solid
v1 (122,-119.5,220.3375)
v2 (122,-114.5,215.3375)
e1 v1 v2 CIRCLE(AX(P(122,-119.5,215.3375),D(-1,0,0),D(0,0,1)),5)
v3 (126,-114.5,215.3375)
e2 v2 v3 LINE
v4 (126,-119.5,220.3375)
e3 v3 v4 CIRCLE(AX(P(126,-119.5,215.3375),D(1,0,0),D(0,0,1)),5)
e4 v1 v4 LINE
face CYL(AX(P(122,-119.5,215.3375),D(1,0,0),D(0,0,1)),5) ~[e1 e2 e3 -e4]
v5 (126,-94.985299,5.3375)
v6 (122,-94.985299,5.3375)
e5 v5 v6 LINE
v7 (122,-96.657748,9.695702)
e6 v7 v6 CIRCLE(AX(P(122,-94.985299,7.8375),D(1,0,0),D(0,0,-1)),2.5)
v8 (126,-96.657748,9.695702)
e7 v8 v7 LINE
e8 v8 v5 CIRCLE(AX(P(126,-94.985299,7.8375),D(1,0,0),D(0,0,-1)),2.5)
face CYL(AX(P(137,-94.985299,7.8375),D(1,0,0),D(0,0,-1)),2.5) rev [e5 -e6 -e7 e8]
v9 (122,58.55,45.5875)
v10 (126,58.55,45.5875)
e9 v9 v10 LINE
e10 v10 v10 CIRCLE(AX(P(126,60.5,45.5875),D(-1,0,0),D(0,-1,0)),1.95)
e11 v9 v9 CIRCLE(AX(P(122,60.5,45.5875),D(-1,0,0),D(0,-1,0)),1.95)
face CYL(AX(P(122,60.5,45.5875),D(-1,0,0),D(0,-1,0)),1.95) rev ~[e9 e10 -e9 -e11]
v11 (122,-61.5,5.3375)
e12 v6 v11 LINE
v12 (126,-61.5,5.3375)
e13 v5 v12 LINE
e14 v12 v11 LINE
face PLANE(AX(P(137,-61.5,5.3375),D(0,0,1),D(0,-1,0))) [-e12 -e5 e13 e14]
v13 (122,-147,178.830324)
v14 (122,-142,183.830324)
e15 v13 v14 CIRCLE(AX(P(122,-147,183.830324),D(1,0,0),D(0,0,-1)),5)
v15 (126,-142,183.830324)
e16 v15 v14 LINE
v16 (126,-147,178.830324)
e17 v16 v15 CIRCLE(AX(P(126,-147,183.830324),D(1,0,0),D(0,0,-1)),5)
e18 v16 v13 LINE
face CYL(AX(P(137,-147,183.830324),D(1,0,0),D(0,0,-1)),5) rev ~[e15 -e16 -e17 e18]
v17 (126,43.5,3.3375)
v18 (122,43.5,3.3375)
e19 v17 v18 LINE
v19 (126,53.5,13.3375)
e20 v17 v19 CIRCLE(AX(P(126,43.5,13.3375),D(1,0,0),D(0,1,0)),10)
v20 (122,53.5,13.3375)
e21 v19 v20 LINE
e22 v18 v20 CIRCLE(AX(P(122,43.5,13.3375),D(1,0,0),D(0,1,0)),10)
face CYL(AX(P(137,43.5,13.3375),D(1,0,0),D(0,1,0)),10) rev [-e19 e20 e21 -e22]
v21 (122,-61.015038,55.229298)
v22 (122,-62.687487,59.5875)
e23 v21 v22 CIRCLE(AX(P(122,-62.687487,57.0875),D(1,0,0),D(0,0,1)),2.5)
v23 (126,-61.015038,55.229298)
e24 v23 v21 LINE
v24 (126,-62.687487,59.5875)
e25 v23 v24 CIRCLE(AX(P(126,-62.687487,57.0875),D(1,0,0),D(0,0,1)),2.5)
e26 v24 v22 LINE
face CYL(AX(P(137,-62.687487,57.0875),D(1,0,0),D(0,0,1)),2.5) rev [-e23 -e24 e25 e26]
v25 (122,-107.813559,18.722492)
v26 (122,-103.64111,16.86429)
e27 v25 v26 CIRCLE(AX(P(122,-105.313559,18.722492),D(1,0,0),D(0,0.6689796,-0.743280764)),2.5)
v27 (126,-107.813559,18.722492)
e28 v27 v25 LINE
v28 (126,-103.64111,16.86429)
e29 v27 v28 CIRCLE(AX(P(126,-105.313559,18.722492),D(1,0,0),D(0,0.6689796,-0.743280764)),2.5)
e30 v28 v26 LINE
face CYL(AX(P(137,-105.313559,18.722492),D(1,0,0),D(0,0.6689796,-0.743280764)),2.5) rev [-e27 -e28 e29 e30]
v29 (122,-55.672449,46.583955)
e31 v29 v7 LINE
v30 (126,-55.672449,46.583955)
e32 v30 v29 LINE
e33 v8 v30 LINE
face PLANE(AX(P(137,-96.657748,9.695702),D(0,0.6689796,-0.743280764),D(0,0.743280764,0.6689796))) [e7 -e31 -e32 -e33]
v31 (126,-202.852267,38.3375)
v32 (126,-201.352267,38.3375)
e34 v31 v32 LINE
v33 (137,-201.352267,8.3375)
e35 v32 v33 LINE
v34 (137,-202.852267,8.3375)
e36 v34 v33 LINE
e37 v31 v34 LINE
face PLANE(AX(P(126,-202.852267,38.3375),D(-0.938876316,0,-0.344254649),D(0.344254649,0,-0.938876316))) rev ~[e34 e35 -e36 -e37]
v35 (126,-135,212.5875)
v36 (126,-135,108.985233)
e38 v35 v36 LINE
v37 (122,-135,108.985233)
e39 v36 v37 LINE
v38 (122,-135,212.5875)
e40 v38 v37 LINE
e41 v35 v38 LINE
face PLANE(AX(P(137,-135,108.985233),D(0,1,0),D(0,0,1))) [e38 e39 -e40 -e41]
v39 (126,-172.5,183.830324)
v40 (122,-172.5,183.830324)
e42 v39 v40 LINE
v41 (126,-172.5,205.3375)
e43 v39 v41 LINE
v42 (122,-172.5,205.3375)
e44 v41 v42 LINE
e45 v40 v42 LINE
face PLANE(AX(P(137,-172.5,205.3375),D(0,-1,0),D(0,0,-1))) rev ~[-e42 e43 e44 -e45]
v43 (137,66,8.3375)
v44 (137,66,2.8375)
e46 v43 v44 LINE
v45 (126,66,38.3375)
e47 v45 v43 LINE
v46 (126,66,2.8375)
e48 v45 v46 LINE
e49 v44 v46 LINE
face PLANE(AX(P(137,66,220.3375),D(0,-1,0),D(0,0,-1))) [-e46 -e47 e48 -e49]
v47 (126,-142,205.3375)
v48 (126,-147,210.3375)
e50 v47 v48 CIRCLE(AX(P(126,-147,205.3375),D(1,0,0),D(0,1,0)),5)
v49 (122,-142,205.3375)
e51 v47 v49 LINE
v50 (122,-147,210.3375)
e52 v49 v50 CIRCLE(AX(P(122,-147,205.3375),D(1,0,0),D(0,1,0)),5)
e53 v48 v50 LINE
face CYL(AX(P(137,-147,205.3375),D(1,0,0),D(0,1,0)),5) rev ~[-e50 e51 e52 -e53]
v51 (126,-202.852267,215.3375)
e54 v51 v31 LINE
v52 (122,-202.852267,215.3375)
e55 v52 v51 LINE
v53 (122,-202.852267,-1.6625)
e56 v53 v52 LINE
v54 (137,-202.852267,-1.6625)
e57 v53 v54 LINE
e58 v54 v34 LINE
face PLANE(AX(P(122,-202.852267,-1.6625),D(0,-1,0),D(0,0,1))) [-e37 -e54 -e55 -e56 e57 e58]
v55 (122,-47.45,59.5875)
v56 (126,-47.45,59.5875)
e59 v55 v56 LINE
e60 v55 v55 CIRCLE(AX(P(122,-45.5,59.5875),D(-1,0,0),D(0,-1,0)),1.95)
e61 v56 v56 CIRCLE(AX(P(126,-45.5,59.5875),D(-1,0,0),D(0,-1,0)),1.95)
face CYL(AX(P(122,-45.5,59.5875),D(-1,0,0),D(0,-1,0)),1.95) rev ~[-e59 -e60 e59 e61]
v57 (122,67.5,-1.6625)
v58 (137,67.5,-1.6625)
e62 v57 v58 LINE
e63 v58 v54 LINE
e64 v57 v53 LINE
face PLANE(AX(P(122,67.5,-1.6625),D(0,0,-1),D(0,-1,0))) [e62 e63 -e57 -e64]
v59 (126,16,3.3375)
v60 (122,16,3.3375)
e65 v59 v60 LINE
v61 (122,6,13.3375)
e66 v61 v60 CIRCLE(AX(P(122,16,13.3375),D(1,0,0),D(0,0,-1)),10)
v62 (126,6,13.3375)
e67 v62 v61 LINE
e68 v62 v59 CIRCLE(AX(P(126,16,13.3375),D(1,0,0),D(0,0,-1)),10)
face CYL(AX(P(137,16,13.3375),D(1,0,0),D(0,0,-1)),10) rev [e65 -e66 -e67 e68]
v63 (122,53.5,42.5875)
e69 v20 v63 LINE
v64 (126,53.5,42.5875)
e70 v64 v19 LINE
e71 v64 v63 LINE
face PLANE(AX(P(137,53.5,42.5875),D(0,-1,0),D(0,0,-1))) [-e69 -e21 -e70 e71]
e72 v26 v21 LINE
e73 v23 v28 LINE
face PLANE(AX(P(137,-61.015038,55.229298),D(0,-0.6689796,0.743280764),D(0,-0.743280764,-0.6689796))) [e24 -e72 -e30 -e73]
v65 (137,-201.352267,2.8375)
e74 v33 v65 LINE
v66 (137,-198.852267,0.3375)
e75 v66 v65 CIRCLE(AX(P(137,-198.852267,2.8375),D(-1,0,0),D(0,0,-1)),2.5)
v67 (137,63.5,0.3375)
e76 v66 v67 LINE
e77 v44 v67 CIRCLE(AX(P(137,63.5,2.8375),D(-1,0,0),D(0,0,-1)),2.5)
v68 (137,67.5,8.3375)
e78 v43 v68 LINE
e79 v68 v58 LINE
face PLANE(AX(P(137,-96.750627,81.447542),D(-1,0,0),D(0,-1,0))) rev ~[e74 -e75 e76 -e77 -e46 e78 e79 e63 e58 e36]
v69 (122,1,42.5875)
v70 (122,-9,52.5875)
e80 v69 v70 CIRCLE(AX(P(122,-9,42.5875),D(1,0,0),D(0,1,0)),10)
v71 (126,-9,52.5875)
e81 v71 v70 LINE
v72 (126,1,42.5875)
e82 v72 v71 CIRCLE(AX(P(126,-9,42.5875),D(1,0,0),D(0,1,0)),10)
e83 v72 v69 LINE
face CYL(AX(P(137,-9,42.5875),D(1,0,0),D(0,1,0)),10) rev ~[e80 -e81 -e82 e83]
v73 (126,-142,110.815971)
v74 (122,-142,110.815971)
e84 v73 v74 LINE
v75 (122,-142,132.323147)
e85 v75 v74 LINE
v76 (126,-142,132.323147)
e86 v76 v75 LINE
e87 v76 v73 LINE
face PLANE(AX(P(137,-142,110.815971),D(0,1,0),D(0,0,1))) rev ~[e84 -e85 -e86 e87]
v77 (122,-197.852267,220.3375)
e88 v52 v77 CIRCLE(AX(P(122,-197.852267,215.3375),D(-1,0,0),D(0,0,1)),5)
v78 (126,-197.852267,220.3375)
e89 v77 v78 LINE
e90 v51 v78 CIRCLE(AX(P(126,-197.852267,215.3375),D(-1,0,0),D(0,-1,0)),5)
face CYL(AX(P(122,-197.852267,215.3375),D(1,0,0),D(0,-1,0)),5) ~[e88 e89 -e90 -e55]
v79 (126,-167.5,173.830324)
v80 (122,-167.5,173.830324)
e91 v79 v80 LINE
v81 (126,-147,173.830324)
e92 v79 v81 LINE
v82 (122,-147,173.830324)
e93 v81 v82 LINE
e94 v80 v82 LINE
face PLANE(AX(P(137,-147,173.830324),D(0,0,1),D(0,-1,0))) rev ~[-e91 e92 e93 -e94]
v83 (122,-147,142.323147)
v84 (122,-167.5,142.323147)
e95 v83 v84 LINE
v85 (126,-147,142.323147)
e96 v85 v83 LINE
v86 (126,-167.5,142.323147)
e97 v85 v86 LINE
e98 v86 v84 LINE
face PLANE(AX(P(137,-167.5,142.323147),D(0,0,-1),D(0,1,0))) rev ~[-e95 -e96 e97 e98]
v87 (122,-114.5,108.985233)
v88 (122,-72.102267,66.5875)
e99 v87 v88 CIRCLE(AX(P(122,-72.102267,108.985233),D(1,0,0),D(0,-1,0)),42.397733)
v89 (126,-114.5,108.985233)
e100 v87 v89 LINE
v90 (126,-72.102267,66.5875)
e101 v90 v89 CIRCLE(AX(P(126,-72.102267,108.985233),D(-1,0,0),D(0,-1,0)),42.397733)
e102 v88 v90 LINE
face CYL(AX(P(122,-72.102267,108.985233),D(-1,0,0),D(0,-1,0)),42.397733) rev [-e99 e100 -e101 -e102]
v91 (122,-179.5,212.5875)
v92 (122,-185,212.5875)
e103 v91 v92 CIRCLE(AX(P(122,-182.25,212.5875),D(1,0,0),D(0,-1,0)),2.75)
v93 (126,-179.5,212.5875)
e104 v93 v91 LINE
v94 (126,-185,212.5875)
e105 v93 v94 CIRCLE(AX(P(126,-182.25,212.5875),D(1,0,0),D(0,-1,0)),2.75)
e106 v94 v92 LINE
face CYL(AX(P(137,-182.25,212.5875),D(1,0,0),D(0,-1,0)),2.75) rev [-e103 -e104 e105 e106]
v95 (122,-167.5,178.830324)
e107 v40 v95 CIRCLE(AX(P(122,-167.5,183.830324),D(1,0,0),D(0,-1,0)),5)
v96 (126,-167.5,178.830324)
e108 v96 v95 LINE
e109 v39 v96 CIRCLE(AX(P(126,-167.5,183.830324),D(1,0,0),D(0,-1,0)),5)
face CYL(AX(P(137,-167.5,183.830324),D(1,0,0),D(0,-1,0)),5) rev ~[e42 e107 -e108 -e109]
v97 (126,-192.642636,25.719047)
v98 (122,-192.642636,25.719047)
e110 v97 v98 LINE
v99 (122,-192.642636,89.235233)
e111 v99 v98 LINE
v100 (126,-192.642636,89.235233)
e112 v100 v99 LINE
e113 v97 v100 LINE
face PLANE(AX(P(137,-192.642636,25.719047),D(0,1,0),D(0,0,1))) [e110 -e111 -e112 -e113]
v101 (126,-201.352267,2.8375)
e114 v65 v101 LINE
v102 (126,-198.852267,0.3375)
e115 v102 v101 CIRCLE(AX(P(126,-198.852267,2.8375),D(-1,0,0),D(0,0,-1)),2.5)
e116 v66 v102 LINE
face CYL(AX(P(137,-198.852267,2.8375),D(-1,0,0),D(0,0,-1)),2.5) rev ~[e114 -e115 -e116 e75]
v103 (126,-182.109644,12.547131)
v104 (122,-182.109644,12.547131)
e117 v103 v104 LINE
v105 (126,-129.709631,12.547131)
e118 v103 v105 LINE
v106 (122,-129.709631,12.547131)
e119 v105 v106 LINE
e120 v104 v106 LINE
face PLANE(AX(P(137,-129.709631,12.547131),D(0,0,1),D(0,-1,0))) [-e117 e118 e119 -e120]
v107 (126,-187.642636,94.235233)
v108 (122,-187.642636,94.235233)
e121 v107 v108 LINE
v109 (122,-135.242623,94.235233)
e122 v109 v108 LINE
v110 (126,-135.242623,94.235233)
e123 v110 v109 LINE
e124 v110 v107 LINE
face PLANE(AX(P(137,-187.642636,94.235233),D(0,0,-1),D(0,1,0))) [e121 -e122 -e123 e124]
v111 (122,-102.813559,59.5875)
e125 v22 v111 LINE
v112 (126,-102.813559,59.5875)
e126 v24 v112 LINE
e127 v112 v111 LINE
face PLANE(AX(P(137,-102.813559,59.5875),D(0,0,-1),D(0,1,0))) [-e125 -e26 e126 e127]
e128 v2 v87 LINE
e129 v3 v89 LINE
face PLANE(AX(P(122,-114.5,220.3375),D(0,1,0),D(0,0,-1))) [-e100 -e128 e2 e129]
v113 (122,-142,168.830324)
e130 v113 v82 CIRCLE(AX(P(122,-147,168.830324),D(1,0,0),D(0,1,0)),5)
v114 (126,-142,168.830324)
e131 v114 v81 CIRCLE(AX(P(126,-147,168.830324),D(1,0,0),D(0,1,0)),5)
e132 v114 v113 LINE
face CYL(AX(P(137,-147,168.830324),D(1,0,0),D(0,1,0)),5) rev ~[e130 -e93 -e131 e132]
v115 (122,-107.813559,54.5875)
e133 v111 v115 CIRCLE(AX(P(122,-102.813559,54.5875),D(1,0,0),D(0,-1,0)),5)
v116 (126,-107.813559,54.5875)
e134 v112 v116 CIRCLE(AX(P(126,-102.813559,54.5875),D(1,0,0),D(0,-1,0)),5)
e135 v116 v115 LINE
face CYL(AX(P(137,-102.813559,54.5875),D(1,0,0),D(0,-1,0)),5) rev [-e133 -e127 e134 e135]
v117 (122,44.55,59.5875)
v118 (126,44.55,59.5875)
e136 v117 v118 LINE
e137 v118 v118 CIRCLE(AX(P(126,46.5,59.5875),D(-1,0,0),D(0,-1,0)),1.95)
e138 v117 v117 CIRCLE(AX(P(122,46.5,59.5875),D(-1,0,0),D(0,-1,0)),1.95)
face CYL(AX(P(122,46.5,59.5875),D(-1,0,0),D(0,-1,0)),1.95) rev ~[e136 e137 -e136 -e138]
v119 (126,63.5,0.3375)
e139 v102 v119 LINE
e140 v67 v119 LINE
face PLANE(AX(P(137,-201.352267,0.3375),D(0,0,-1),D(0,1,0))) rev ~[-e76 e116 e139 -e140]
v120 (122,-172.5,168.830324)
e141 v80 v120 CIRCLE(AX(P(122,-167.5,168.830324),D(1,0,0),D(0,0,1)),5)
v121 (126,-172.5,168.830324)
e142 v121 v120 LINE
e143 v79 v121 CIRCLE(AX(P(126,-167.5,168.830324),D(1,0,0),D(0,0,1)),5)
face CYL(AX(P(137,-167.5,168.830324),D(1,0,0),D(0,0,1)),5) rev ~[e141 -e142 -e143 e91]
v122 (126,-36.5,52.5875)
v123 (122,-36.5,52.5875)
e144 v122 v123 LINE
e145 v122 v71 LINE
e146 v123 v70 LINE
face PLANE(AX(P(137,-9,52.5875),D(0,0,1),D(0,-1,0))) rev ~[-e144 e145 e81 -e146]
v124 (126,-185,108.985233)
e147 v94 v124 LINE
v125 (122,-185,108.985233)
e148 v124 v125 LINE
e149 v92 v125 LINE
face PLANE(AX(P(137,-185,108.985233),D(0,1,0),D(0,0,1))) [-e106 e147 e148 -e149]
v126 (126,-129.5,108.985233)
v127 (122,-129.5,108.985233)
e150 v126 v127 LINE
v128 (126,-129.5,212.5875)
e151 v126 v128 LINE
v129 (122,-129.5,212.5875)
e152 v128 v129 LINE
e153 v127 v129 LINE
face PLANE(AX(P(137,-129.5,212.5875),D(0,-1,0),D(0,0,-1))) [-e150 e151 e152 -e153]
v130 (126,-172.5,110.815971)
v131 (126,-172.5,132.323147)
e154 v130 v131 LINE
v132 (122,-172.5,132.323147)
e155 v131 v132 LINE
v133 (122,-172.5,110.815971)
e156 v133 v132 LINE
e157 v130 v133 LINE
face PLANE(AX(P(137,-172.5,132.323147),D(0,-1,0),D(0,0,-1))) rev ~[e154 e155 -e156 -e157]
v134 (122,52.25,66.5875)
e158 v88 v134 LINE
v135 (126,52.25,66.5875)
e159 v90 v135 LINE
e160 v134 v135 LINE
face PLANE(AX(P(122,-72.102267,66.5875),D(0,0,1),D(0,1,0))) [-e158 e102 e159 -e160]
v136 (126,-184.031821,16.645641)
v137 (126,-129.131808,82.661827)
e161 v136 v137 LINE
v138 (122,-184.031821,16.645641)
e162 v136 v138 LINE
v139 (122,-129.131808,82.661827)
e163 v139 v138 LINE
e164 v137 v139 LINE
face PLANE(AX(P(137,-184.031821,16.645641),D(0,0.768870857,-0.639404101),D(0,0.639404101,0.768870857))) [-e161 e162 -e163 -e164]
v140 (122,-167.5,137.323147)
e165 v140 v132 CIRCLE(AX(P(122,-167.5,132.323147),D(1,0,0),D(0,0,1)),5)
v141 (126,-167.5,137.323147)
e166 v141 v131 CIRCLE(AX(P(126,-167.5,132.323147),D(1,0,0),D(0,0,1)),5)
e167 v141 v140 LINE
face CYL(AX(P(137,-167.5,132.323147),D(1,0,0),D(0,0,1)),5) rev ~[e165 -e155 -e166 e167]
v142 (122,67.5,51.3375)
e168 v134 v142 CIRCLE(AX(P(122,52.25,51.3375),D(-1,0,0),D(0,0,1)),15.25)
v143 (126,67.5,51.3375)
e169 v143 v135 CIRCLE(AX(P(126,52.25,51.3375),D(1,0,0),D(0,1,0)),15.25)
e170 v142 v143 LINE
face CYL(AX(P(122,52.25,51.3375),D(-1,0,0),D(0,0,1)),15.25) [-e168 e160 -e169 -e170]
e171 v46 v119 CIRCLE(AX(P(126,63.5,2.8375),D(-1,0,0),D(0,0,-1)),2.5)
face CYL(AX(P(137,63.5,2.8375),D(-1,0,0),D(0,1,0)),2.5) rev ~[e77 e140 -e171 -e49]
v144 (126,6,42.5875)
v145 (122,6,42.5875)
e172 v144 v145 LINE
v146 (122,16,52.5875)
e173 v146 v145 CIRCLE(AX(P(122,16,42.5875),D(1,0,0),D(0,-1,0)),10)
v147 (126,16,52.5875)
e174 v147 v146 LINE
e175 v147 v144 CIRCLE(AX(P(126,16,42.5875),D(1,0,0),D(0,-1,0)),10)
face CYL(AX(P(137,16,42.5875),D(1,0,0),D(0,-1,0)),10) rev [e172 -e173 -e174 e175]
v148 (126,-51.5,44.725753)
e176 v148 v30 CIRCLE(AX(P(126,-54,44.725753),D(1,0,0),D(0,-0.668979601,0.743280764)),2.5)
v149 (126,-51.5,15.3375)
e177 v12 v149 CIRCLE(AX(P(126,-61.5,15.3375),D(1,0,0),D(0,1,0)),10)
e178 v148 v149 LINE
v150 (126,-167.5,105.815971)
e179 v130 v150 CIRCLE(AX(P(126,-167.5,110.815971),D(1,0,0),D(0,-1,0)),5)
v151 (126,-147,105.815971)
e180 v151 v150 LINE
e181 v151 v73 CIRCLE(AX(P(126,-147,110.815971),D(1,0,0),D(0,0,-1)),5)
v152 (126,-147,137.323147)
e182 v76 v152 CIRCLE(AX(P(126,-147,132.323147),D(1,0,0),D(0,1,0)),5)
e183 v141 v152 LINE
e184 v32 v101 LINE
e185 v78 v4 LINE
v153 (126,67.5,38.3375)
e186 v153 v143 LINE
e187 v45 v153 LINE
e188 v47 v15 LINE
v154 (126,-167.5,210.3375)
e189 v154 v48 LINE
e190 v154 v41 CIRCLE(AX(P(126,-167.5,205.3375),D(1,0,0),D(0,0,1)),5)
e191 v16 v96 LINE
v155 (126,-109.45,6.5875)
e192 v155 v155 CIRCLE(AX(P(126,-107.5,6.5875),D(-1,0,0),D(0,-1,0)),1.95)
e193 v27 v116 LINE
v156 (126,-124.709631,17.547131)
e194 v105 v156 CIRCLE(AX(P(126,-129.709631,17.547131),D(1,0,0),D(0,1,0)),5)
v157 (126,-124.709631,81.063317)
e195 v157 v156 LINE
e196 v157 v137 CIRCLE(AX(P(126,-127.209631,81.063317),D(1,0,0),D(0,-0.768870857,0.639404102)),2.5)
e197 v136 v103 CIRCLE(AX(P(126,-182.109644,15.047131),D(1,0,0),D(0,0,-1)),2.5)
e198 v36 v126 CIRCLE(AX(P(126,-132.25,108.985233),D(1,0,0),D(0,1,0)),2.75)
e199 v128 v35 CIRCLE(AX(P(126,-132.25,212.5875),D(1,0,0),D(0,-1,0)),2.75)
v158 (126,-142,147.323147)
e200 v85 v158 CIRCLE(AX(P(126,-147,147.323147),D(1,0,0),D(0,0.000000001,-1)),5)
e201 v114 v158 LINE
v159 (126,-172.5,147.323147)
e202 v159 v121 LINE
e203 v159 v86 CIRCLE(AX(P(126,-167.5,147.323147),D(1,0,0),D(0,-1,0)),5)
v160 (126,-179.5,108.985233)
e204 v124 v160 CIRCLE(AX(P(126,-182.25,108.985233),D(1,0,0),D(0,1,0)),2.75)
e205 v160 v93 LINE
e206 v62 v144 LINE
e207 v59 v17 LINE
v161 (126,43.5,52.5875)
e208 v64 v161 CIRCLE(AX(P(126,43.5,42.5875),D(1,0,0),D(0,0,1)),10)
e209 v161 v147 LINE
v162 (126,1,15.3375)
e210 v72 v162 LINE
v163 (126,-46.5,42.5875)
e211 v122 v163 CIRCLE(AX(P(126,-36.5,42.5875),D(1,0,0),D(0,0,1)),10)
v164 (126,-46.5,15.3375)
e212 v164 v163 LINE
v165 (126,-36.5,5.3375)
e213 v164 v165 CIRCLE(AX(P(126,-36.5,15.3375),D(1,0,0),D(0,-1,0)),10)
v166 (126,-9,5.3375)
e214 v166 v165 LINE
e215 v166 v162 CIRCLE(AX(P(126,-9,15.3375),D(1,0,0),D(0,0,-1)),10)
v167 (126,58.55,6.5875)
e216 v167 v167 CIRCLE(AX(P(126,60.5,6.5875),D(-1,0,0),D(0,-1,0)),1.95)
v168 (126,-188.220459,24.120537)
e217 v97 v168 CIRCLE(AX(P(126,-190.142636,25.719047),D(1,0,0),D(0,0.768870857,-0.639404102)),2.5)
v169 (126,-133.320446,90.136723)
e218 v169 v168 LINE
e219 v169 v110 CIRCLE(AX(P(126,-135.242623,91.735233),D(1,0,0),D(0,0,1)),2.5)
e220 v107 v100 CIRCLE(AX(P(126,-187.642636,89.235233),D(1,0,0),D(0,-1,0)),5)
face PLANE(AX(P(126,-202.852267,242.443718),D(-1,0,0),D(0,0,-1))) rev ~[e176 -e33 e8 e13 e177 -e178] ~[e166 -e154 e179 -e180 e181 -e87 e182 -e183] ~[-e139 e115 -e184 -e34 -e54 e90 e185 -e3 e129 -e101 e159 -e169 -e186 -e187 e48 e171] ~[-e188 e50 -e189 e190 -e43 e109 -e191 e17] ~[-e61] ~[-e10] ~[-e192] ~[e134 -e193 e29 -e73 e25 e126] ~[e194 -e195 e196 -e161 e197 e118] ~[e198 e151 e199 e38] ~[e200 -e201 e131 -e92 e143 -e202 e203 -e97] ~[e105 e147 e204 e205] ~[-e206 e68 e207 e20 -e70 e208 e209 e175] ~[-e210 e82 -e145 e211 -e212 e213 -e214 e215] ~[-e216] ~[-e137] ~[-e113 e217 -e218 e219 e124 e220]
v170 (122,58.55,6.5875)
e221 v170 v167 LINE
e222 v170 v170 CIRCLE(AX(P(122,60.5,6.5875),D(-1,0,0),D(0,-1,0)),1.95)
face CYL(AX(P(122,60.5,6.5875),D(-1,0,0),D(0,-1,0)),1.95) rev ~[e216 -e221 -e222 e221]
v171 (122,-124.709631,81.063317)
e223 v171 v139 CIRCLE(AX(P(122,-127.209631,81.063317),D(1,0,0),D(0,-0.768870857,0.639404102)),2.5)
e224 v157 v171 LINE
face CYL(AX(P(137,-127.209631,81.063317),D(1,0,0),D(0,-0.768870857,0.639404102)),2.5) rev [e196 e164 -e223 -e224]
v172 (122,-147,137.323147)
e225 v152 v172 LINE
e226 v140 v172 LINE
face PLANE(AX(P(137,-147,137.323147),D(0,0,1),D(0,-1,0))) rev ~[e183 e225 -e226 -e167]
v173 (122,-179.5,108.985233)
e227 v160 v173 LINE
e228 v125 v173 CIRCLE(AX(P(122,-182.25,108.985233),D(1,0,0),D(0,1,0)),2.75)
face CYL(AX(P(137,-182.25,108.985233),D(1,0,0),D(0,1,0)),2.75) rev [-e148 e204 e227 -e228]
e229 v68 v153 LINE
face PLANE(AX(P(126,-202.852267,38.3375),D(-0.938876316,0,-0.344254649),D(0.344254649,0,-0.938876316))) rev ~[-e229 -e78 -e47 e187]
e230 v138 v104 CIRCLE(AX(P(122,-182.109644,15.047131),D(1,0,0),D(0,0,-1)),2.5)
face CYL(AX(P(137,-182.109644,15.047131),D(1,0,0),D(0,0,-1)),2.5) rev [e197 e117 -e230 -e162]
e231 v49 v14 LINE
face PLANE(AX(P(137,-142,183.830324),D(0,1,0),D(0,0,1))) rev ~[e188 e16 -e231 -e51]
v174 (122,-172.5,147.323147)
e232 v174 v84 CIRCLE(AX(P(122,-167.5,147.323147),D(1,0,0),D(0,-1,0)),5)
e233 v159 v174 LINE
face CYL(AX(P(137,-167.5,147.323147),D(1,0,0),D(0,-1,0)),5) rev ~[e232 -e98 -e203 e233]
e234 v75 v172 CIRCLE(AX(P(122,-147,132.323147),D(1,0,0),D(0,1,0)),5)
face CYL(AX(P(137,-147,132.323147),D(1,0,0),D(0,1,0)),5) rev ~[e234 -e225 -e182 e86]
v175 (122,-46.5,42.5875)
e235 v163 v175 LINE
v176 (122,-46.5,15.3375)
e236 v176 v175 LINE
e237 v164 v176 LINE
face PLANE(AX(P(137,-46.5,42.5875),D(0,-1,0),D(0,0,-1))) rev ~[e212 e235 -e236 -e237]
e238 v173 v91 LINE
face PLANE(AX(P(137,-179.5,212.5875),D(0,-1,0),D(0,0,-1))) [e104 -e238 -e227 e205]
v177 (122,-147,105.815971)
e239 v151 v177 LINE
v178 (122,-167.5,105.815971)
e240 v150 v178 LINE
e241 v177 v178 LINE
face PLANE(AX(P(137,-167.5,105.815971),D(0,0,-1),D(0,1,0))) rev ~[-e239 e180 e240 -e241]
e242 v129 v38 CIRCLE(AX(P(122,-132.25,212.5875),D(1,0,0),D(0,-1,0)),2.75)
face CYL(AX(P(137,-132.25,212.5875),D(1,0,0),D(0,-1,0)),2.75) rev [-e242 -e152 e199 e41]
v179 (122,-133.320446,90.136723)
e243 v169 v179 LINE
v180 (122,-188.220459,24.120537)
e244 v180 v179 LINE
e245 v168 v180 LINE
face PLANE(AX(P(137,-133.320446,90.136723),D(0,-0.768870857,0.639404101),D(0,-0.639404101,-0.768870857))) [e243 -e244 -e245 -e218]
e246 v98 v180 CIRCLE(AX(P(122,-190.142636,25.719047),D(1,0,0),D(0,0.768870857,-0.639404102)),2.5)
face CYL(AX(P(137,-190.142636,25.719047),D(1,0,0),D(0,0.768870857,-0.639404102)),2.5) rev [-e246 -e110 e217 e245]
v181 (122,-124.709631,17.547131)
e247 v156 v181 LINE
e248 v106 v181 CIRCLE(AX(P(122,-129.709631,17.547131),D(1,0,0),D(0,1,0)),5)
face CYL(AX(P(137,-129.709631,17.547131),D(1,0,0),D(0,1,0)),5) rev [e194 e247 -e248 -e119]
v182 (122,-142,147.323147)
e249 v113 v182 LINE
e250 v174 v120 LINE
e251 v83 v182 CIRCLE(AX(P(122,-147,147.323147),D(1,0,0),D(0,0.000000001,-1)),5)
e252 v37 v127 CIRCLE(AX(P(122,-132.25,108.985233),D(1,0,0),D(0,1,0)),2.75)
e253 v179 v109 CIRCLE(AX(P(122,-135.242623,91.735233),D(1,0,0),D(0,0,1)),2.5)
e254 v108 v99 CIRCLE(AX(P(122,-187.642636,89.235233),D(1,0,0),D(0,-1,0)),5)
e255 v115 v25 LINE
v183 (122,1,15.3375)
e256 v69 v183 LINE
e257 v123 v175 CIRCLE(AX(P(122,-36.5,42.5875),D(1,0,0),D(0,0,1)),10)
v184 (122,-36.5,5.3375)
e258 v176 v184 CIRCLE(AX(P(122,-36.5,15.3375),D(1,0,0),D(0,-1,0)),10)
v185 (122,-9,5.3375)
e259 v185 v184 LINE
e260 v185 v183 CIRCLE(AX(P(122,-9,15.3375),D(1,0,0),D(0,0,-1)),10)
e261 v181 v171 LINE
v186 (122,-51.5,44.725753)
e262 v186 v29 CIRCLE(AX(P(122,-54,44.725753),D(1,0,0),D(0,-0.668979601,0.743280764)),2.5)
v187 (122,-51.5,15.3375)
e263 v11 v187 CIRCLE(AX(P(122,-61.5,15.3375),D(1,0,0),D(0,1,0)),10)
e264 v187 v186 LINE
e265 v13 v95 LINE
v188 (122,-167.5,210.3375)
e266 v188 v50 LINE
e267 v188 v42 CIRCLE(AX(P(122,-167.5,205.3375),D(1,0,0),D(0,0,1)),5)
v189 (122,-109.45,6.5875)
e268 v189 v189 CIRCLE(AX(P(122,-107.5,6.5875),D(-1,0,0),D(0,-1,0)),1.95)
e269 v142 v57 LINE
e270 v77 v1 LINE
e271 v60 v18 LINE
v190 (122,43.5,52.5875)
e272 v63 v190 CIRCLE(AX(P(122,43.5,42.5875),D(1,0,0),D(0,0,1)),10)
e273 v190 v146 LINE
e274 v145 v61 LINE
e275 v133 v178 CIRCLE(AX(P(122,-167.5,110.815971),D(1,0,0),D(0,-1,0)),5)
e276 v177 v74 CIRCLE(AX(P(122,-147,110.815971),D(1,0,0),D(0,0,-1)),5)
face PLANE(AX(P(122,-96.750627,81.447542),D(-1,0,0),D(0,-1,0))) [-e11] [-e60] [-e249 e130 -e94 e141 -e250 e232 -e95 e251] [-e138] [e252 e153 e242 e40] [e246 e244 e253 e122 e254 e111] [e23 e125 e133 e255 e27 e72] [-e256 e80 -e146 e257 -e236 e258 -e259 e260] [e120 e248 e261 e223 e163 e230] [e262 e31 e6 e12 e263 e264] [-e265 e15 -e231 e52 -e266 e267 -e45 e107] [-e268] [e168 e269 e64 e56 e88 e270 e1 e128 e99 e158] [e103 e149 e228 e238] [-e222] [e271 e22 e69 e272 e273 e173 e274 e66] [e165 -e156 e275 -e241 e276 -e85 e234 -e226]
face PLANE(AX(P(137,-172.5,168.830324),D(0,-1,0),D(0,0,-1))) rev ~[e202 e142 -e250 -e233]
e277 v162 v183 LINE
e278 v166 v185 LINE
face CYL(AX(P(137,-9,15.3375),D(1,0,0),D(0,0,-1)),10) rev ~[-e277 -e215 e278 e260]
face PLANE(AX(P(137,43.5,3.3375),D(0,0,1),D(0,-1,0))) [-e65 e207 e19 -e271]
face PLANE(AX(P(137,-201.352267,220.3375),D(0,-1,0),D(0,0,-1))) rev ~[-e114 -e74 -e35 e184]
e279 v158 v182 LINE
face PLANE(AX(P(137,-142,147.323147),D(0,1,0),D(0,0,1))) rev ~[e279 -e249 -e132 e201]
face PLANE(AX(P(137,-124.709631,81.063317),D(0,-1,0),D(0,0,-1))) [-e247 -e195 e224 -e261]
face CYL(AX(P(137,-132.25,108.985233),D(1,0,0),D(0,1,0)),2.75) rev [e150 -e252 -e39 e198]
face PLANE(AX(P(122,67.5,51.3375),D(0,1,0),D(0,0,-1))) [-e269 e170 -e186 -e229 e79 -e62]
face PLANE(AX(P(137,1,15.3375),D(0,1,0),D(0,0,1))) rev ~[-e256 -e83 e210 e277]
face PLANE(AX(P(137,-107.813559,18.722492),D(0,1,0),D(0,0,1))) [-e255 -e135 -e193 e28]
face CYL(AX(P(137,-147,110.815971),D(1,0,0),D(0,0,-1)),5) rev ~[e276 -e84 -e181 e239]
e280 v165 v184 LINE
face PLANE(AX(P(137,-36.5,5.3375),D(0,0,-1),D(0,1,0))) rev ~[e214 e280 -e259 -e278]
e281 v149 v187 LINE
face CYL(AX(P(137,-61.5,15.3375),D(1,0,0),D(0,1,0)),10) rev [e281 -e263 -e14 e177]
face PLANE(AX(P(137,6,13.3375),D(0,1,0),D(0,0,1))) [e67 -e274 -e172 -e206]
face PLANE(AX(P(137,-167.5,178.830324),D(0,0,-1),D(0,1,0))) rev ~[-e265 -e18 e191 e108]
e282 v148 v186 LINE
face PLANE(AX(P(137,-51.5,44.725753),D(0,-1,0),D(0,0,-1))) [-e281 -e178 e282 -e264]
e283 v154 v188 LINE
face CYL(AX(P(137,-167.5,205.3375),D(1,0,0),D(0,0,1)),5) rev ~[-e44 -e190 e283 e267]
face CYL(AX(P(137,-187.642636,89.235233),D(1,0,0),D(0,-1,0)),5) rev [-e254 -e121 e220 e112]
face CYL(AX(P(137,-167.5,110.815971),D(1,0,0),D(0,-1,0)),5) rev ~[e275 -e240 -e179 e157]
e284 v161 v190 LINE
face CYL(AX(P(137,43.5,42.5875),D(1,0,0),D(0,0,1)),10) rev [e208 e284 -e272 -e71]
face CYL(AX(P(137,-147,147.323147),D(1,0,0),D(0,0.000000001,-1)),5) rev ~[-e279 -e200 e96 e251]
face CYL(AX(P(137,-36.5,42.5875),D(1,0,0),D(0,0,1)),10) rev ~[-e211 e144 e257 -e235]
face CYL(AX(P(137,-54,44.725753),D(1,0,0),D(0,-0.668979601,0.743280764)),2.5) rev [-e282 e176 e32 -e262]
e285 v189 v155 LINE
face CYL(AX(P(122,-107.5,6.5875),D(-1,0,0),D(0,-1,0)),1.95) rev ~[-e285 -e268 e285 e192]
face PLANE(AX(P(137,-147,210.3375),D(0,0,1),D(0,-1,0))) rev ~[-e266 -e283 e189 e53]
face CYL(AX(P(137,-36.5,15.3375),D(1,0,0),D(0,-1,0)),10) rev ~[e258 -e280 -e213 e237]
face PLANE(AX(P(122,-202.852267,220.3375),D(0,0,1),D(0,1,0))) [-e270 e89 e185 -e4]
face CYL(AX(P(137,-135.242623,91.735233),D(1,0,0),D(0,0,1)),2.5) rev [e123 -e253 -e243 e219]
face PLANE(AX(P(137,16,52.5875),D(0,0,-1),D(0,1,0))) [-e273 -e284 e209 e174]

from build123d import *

# Parameters (mm, degrees)
SKETCH1_R           = 1.95
BOSS_EXTRUDE1_DEPTH = 15
CUT_EXTRUDE2_DEPTH  = 16
CUT_EXTRUDE3_DEPTH  = 16
CUT_EXTRUDE4_DEPTH  = 16
CUT_EXTRUDE5_DEPTH  = 16
FILLET1_R           = 5
SKETCH7_W           = 220
SKETCH7_H           = 267.35226683
CUT_EXTRUDE6_DEPTH  = 11
CUT_EXTRUDE7_DEPTH  = 271.35226683
FILLET2_R           = 2.5


with BuildPart() as part:
    # Sketch1 → Boss-Extrude1 (new body)
    with BuildSketch(Plane(origin=(122, 0, 0), x_dir=(0, -1, 0), z_dir=(-1, 0, 0))):
        with BuildLine():
            Line((-67.5, -1.6625), (202.85226683, -1.6625))
            Line((202.85226683, -1.6625), (202.85226683, 220.3375))
            Line((202.85226683, 220.3375), (114.499999998, 220.3375))
            Line((114.499999998, 220.3375), (114.499999998, 108.985233168))
            ThreePointArc((114.499999998, 108.985233168), (102.08199146, 79.005508538), (72.10226683, 66.5875))
            Line((72.10226683, 66.5875), (-52.25, 66.5875))
            ThreePointArc((-52.25, 66.5875), (-63.033378413, 62.120878413), (-67.5, 51.3375))
            Line((-67.5, 51.3375), (-67.5, -1.6625))
        make_face()
        with Locations((-60.5, 6.5875)):
            Circle(SKETCH1_R, mode=Mode.SUBTRACT)
        with Locations((107.5, 6.5875)):
            Circle(SKETCH1_R, mode=Mode.SUBTRACT)
        with Locations((-60.5, 45.5875)):
            Circle(SKETCH1_R, mode=Mode.SUBTRACT)
        with Locations((-46.5, 59.5875)):
            Circle(SKETCH1_R, mode=Mode.SUBTRACT)
        with Locations((45.5, 59.5875)):
            Circle(SKETCH1_R, mode=Mode.SUBTRACT)
        Polygon((42.95, 15.7375), (42.95, 13.2375), (40.95, 11.3375), (33.95, 11.3375), (31.95, 13.2375), (31.95, 15.7375), align=None, mode=Mode.SUBTRACT)
        with BuildLine():
            Line((30.95, 11.3375), (17.5, 11.3375))
            Line((17.5, 11.3375), (17.5, 13.9375))
            ThreePointArc((17.5, 13.9375), (24.225, 16.3375), (30.95, 13.9375))
            Line((30.95, 13.9375), (30.95, 11.3375))
        make_face(mode=Mode.SUBTRACT)
    extrude(amount=-BOSS_EXTRUDE1_DEPTH)

    # Sketch2 → Cut-Extrude2 (cut, through all)
    with BuildSketch(Plane(origin=(137, 0, 0), x_dir=(0, 0, -1), z_dir=(1, 0, 0))):
        with BuildLine():
            Line((-42.5875, 53.5), (-13.3375, 53.5))
            ThreePointArc((-13.3375, 53.5), (-6.266432188, 50.571067812), (-3.3375, 43.5))
            Line((-3.3375, 43.5), (-3.3375, 16))
            ThreePointArc((-3.3375, 16), (-6.266432188, 8.928932188), (-13.3375, 6))
            Line((-13.3375, 6), (-42.5875, 6))
            ThreePointArc((-42.5875, 6), (-49.658567812, 8.928932188), (-52.5875, 16))
            Line((-52.5875, 16), (-52.5875, 43.5))
            ThreePointArc((-52.5875, 43.5), (-49.658567812, 50.571067812), (-42.5875, 53.5))
        make_face()
        with BuildLine():
            Line((-42.5875, -46.5), (-15.3375, -46.5))
            ThreePointArc((-15.3375, -46.5), (-8.266432188, -43.571067812), (-5.3375, -36.5))
            Line((-5.3375, -36.5), (-5.3375, -9))
            ThreePointArc((-5.3375, -9), (-8.266432188, -1.928932188), (-15.3375, 1))
            Line((-15.3375, 1), (-42.5875, 1))
            ThreePointArc((-42.5875, 1), (-49.658567812, -1.928932188), (-52.5875, -9))
            Line((-52.5875, -9), (-52.5875, -36.5))
            ThreePointArc((-52.5875, -36.5), (-49.658567812, -43.571067812), (-42.5875, -46.5))
        make_face()
        with BuildLine():
            Line((-55.22929809, -61.015037849), (-16.864289826, -103.641109909))
            ThreePointArc((-16.864289826, -103.641109909), (-16.438731405, -106.33063253), (-18.722491736, -107.81355891))
            Line((-18.722491736, -107.81355891), (-54.5875, -107.81355891))
            ThreePointArc((-54.5875, -107.81355891), (-58.123033906, -106.349092816), (-59.5875, -102.81355891))
            Line((-59.5875, -102.81355891), (-59.5875, -62.68748685))
            ThreePointArc((-59.5875, -62.68748685), (-57.983182763, -60.353444779), (-55.22929809, -61.015037849))
        make_face()
        with BuildLine():
            Line((-44.725753318, -51.5), (-15.3375, -51.5))
            ThreePointArc((-15.3375, -51.5), (-8.266432188, -54.428932188), (-5.3375, -61.5))
            Line((-5.3375, -61.5), (-5.3375, -94.985299242))
            ThreePointArc((-5.3375, -94.985299242), (-6.941817237, -97.319341313), (-9.69570191, -96.657748243))
            Line((-9.69570191, -96.657748243), (-46.583955228, -55.672449001))
            ThreePointArc((-46.583955228, -55.672449001), (-47.00951365, -52.98292638), (-44.725753318, -51.5))
        make_face()
    extrude(amount=-CUT_EXTRUDE2_DEPTH, mode=Mode.SUBTRACT)

    # Sketch3 → Cut-Extrude3 (cut, through all)
    with BuildSketch(Plane(origin=(137, 0, 0), x_dir=(0, 0, -1), z_dir=(1, 0, 0))):
        with BuildLine():
            Line((-212.5875, -129.499999998), (-108.985233168, -129.499999998))
            ThreePointArc((-108.985233168, -129.499999998), (-106.235233168, -132.249999998), (-108.985233168, -134.999999998))
            Line((-108.985233168, -134.999999998), (-212.5875, -134.999999998))
            ThreePointArc((-212.5875, -134.999999998), (-215.3375, -132.249999998), (-212.5875, -129.499999998))
        make_face()
        with BuildLine():
            Line((-212.5875, -179.499999998), (-108.985233168, -179.499999998))
            ThreePointArc((-108.985233168, -179.499999998), (-106.235233168, -182.249999998), (-108.985233168, -184.999999998))
            Line((-108.985233168, -184.999999998), (-212.5875, -184.999999998))
            ThreePointArc((-212.5875, -184.999999998), (-215.3375, -182.249999998), (-212.5875, -179.499999998))
        make_face()
    extrude(amount=-CUT_EXTRUDE3_DEPTH, mode=Mode.SUBTRACT)

    # Sketch4 → Cut-Extrude4 (cut, through all)
    with BuildSketch(Plane(origin=(137, 0, 0), x_dir=(0, 0, -1), z_dir=(1, 0, 0))):
        with BuildLine():
            Line((-94.235233168, -187.642635713), (-94.235233168, -135.242622679))
            ThreePointArc((-94.235233168, -135.242622679), (-92.796770819, -132.97918772), (-90.136722915, -133.320445536))
            Line((-90.136722915, -133.320445536), (-24.120536911, -188.22045857))
            ThreePointArc((-24.120536911, -188.22045857), (-23.367936485, -190.992505451), (-25.719047164, -192.642635713))
            Line((-25.719047164, -192.642635713), (-89.235233168, -192.642635713))
            ThreePointArc((-89.235233168, -192.642635713), (-92.770767074, -191.178169619), (-94.235233168, -187.642635713))
        make_face()
        with BuildLine():
            Line((-12.547131117, -129.709631116), (-12.547131117, -182.109644149))
            ThreePointArc((-12.547131117, -182.109644149), (-13.985593467, -184.373079109), (-16.64564137, -184.031821292))
            Line((-16.64564137, -184.031821292), (-82.661827375, -129.131808259))
            ThreePointArc((-82.661827375, -129.131808259), (-83.414427801, -126.359761378), (-81.063317121, -124.709631116))
            Line((-81.063317121, -124.709631116), (-17.547131117, -124.709631116))
            ThreePointArc((-17.547131117, -124.709631116), (-14.011597211, -126.17409721), (-12.547131117, -129.709631116))
        make_face()
    extrude(amount=-CUT_EXTRUDE4_DEPTH, mode=Mode.SUBTRACT)

    # Sketch5 → Cut-Extrude5 (cut, through all)
    with BuildSketch(Plane(origin=(137, 0, 0), x_dir=(0, 0, -1), z_dir=(1, 0, 0))):
        with BuildLine():
            Line((-210.3375, -146.999999998), (-210.3375, -167.499999998))
            ThreePointArc((-210.3375, -167.499999998), (-208.873033906, -171.035533904), (-205.3375, -172.499999998))
            Line((-205.3375, -172.499999998), (-183.830323645, -172.499999998))
            ThreePointArc((-183.830323645, -172.499999998), (-180.294789739, -171.035533904), (-178.830323645, -167.499999998))
            Line((-178.830323645, -167.499999998), (-178.830323645, -146.999999998))
            ThreePointArc((-178.830323645, -146.999999998), (-180.294789739, -143.464466093), (-183.830323645, -141.999999998))
            Line((-183.830323645, -141.999999998), (-205.3375, -141.999999998))
            ThreePointArc((-205.3375, -141.999999998), (-208.873033906, -143.464466093), (-210.3375, -146.999999998))
        make_face()
        with BuildLine():
            Line((-173.830323645, -146.999999998), (-173.830323645, -167.499999998))
            ThreePointArc((-173.830323645, -167.499999998), (-172.365857551, -171.035533904), (-168.830323645, -172.499999998))
            Line((-168.830323645, -172.499999998), (-147.323147289, -172.499999998))
            ThreePointArc((-147.323147289, -172.499999998), (-143.787613384, -171.035533904), (-142.323147289, -167.499999998))
            Line((-142.323147289, -167.499999998), (-142.323147289, -146.999999998))
            ThreePointArc((-142.323147289, -146.999999998), (-143.787613384, -143.464466093), (-147.323147289, -141.999999998))
            Line((-147.323147289, -141.999999998), (-168.830323645, -141.999999998))
            ThreePointArc((-168.830323645, -141.999999998), (-172.365857551, -143.464466093), (-173.830323645, -146.999999998))
        make_face()
        with BuildLine():
            Line((-137.323147289, -146.999999998), (-137.323147289, -167.499999998))
            ThreePointArc((-137.323147289, -167.499999998), (-135.858681195, -171.035533904), (-132.323147289, -172.499999998))
            Line((-132.323147289, -172.499999998), (-110.815970934, -172.499999998))
            ThreePointArc((-110.815970934, -172.499999998), (-107.280437028, -171.035533904), (-105.815970934, -167.499999998))
            Line((-105.815970934, -167.499999998), (-105.815970934, -146.999999998))
            ThreePointArc((-105.815970934, -146.999999998), (-107.280437028, -143.464466093), (-110.815970934, -141.999999998))
            Line((-110.815970934, -141.999999998), (-132.323147289, -141.999999998))
            ThreePointArc((-132.323147289, -141.999999998), (-135.858681195, -143.464466093), (-137.323147289, -146.999999998))
        make_face()
    extrude(amount=-CUT_EXTRUDE5_DEPTH, mode=Mode.SUBTRACT)

    # Fillet1
    fillet1_edges = [part.edges().sort_by_distance(p)[0] for p in [
        (129.5, -114.499999998, 220.3375),
        (129.5, -202.85226683, 220.3375),
    ]]
    fillet(fillet1_edges, radius=FILLET1_R)

    # Sketch7 → Cut-Extrude6 (cut)
    with BuildSketch(Plane(origin=(137, 0, 0), x_dir=(0, 0, -1), z_dir=(1, 0, 0))):
        with Locations((-110.3375, -67.676133415)):
            Rectangle(SKETCH7_W, SKETCH7_H)
    extrude(amount=-CUT_EXTRUDE6_DEPTH, mode=Mode.SUBTRACT)

    # Sketch8 → Cut-Extrude7 (cut, through all)
    with BuildSketch(Plane.XZ.offset(202.85226683)):
        Polygon((137, 54.353248627), (137, 242.443718096), (126, 242.443718096), (126, 38.3375), (137, 8.3375), align=None)
    extrude(amount=-CUT_EXTRUDE7_DEPTH, mode=Mode.SUBTRACT)

    # Fillet2
    fillet2_edges = [part.edges().sort_by_distance(p)[0] for p in [
        (131.5, 66, 0.3375),
        (131.5, -201.35226683, 0.3375),
    ]]
    fillet(fillet2_edges, radius=FILLET2_R)


solid = part.part
